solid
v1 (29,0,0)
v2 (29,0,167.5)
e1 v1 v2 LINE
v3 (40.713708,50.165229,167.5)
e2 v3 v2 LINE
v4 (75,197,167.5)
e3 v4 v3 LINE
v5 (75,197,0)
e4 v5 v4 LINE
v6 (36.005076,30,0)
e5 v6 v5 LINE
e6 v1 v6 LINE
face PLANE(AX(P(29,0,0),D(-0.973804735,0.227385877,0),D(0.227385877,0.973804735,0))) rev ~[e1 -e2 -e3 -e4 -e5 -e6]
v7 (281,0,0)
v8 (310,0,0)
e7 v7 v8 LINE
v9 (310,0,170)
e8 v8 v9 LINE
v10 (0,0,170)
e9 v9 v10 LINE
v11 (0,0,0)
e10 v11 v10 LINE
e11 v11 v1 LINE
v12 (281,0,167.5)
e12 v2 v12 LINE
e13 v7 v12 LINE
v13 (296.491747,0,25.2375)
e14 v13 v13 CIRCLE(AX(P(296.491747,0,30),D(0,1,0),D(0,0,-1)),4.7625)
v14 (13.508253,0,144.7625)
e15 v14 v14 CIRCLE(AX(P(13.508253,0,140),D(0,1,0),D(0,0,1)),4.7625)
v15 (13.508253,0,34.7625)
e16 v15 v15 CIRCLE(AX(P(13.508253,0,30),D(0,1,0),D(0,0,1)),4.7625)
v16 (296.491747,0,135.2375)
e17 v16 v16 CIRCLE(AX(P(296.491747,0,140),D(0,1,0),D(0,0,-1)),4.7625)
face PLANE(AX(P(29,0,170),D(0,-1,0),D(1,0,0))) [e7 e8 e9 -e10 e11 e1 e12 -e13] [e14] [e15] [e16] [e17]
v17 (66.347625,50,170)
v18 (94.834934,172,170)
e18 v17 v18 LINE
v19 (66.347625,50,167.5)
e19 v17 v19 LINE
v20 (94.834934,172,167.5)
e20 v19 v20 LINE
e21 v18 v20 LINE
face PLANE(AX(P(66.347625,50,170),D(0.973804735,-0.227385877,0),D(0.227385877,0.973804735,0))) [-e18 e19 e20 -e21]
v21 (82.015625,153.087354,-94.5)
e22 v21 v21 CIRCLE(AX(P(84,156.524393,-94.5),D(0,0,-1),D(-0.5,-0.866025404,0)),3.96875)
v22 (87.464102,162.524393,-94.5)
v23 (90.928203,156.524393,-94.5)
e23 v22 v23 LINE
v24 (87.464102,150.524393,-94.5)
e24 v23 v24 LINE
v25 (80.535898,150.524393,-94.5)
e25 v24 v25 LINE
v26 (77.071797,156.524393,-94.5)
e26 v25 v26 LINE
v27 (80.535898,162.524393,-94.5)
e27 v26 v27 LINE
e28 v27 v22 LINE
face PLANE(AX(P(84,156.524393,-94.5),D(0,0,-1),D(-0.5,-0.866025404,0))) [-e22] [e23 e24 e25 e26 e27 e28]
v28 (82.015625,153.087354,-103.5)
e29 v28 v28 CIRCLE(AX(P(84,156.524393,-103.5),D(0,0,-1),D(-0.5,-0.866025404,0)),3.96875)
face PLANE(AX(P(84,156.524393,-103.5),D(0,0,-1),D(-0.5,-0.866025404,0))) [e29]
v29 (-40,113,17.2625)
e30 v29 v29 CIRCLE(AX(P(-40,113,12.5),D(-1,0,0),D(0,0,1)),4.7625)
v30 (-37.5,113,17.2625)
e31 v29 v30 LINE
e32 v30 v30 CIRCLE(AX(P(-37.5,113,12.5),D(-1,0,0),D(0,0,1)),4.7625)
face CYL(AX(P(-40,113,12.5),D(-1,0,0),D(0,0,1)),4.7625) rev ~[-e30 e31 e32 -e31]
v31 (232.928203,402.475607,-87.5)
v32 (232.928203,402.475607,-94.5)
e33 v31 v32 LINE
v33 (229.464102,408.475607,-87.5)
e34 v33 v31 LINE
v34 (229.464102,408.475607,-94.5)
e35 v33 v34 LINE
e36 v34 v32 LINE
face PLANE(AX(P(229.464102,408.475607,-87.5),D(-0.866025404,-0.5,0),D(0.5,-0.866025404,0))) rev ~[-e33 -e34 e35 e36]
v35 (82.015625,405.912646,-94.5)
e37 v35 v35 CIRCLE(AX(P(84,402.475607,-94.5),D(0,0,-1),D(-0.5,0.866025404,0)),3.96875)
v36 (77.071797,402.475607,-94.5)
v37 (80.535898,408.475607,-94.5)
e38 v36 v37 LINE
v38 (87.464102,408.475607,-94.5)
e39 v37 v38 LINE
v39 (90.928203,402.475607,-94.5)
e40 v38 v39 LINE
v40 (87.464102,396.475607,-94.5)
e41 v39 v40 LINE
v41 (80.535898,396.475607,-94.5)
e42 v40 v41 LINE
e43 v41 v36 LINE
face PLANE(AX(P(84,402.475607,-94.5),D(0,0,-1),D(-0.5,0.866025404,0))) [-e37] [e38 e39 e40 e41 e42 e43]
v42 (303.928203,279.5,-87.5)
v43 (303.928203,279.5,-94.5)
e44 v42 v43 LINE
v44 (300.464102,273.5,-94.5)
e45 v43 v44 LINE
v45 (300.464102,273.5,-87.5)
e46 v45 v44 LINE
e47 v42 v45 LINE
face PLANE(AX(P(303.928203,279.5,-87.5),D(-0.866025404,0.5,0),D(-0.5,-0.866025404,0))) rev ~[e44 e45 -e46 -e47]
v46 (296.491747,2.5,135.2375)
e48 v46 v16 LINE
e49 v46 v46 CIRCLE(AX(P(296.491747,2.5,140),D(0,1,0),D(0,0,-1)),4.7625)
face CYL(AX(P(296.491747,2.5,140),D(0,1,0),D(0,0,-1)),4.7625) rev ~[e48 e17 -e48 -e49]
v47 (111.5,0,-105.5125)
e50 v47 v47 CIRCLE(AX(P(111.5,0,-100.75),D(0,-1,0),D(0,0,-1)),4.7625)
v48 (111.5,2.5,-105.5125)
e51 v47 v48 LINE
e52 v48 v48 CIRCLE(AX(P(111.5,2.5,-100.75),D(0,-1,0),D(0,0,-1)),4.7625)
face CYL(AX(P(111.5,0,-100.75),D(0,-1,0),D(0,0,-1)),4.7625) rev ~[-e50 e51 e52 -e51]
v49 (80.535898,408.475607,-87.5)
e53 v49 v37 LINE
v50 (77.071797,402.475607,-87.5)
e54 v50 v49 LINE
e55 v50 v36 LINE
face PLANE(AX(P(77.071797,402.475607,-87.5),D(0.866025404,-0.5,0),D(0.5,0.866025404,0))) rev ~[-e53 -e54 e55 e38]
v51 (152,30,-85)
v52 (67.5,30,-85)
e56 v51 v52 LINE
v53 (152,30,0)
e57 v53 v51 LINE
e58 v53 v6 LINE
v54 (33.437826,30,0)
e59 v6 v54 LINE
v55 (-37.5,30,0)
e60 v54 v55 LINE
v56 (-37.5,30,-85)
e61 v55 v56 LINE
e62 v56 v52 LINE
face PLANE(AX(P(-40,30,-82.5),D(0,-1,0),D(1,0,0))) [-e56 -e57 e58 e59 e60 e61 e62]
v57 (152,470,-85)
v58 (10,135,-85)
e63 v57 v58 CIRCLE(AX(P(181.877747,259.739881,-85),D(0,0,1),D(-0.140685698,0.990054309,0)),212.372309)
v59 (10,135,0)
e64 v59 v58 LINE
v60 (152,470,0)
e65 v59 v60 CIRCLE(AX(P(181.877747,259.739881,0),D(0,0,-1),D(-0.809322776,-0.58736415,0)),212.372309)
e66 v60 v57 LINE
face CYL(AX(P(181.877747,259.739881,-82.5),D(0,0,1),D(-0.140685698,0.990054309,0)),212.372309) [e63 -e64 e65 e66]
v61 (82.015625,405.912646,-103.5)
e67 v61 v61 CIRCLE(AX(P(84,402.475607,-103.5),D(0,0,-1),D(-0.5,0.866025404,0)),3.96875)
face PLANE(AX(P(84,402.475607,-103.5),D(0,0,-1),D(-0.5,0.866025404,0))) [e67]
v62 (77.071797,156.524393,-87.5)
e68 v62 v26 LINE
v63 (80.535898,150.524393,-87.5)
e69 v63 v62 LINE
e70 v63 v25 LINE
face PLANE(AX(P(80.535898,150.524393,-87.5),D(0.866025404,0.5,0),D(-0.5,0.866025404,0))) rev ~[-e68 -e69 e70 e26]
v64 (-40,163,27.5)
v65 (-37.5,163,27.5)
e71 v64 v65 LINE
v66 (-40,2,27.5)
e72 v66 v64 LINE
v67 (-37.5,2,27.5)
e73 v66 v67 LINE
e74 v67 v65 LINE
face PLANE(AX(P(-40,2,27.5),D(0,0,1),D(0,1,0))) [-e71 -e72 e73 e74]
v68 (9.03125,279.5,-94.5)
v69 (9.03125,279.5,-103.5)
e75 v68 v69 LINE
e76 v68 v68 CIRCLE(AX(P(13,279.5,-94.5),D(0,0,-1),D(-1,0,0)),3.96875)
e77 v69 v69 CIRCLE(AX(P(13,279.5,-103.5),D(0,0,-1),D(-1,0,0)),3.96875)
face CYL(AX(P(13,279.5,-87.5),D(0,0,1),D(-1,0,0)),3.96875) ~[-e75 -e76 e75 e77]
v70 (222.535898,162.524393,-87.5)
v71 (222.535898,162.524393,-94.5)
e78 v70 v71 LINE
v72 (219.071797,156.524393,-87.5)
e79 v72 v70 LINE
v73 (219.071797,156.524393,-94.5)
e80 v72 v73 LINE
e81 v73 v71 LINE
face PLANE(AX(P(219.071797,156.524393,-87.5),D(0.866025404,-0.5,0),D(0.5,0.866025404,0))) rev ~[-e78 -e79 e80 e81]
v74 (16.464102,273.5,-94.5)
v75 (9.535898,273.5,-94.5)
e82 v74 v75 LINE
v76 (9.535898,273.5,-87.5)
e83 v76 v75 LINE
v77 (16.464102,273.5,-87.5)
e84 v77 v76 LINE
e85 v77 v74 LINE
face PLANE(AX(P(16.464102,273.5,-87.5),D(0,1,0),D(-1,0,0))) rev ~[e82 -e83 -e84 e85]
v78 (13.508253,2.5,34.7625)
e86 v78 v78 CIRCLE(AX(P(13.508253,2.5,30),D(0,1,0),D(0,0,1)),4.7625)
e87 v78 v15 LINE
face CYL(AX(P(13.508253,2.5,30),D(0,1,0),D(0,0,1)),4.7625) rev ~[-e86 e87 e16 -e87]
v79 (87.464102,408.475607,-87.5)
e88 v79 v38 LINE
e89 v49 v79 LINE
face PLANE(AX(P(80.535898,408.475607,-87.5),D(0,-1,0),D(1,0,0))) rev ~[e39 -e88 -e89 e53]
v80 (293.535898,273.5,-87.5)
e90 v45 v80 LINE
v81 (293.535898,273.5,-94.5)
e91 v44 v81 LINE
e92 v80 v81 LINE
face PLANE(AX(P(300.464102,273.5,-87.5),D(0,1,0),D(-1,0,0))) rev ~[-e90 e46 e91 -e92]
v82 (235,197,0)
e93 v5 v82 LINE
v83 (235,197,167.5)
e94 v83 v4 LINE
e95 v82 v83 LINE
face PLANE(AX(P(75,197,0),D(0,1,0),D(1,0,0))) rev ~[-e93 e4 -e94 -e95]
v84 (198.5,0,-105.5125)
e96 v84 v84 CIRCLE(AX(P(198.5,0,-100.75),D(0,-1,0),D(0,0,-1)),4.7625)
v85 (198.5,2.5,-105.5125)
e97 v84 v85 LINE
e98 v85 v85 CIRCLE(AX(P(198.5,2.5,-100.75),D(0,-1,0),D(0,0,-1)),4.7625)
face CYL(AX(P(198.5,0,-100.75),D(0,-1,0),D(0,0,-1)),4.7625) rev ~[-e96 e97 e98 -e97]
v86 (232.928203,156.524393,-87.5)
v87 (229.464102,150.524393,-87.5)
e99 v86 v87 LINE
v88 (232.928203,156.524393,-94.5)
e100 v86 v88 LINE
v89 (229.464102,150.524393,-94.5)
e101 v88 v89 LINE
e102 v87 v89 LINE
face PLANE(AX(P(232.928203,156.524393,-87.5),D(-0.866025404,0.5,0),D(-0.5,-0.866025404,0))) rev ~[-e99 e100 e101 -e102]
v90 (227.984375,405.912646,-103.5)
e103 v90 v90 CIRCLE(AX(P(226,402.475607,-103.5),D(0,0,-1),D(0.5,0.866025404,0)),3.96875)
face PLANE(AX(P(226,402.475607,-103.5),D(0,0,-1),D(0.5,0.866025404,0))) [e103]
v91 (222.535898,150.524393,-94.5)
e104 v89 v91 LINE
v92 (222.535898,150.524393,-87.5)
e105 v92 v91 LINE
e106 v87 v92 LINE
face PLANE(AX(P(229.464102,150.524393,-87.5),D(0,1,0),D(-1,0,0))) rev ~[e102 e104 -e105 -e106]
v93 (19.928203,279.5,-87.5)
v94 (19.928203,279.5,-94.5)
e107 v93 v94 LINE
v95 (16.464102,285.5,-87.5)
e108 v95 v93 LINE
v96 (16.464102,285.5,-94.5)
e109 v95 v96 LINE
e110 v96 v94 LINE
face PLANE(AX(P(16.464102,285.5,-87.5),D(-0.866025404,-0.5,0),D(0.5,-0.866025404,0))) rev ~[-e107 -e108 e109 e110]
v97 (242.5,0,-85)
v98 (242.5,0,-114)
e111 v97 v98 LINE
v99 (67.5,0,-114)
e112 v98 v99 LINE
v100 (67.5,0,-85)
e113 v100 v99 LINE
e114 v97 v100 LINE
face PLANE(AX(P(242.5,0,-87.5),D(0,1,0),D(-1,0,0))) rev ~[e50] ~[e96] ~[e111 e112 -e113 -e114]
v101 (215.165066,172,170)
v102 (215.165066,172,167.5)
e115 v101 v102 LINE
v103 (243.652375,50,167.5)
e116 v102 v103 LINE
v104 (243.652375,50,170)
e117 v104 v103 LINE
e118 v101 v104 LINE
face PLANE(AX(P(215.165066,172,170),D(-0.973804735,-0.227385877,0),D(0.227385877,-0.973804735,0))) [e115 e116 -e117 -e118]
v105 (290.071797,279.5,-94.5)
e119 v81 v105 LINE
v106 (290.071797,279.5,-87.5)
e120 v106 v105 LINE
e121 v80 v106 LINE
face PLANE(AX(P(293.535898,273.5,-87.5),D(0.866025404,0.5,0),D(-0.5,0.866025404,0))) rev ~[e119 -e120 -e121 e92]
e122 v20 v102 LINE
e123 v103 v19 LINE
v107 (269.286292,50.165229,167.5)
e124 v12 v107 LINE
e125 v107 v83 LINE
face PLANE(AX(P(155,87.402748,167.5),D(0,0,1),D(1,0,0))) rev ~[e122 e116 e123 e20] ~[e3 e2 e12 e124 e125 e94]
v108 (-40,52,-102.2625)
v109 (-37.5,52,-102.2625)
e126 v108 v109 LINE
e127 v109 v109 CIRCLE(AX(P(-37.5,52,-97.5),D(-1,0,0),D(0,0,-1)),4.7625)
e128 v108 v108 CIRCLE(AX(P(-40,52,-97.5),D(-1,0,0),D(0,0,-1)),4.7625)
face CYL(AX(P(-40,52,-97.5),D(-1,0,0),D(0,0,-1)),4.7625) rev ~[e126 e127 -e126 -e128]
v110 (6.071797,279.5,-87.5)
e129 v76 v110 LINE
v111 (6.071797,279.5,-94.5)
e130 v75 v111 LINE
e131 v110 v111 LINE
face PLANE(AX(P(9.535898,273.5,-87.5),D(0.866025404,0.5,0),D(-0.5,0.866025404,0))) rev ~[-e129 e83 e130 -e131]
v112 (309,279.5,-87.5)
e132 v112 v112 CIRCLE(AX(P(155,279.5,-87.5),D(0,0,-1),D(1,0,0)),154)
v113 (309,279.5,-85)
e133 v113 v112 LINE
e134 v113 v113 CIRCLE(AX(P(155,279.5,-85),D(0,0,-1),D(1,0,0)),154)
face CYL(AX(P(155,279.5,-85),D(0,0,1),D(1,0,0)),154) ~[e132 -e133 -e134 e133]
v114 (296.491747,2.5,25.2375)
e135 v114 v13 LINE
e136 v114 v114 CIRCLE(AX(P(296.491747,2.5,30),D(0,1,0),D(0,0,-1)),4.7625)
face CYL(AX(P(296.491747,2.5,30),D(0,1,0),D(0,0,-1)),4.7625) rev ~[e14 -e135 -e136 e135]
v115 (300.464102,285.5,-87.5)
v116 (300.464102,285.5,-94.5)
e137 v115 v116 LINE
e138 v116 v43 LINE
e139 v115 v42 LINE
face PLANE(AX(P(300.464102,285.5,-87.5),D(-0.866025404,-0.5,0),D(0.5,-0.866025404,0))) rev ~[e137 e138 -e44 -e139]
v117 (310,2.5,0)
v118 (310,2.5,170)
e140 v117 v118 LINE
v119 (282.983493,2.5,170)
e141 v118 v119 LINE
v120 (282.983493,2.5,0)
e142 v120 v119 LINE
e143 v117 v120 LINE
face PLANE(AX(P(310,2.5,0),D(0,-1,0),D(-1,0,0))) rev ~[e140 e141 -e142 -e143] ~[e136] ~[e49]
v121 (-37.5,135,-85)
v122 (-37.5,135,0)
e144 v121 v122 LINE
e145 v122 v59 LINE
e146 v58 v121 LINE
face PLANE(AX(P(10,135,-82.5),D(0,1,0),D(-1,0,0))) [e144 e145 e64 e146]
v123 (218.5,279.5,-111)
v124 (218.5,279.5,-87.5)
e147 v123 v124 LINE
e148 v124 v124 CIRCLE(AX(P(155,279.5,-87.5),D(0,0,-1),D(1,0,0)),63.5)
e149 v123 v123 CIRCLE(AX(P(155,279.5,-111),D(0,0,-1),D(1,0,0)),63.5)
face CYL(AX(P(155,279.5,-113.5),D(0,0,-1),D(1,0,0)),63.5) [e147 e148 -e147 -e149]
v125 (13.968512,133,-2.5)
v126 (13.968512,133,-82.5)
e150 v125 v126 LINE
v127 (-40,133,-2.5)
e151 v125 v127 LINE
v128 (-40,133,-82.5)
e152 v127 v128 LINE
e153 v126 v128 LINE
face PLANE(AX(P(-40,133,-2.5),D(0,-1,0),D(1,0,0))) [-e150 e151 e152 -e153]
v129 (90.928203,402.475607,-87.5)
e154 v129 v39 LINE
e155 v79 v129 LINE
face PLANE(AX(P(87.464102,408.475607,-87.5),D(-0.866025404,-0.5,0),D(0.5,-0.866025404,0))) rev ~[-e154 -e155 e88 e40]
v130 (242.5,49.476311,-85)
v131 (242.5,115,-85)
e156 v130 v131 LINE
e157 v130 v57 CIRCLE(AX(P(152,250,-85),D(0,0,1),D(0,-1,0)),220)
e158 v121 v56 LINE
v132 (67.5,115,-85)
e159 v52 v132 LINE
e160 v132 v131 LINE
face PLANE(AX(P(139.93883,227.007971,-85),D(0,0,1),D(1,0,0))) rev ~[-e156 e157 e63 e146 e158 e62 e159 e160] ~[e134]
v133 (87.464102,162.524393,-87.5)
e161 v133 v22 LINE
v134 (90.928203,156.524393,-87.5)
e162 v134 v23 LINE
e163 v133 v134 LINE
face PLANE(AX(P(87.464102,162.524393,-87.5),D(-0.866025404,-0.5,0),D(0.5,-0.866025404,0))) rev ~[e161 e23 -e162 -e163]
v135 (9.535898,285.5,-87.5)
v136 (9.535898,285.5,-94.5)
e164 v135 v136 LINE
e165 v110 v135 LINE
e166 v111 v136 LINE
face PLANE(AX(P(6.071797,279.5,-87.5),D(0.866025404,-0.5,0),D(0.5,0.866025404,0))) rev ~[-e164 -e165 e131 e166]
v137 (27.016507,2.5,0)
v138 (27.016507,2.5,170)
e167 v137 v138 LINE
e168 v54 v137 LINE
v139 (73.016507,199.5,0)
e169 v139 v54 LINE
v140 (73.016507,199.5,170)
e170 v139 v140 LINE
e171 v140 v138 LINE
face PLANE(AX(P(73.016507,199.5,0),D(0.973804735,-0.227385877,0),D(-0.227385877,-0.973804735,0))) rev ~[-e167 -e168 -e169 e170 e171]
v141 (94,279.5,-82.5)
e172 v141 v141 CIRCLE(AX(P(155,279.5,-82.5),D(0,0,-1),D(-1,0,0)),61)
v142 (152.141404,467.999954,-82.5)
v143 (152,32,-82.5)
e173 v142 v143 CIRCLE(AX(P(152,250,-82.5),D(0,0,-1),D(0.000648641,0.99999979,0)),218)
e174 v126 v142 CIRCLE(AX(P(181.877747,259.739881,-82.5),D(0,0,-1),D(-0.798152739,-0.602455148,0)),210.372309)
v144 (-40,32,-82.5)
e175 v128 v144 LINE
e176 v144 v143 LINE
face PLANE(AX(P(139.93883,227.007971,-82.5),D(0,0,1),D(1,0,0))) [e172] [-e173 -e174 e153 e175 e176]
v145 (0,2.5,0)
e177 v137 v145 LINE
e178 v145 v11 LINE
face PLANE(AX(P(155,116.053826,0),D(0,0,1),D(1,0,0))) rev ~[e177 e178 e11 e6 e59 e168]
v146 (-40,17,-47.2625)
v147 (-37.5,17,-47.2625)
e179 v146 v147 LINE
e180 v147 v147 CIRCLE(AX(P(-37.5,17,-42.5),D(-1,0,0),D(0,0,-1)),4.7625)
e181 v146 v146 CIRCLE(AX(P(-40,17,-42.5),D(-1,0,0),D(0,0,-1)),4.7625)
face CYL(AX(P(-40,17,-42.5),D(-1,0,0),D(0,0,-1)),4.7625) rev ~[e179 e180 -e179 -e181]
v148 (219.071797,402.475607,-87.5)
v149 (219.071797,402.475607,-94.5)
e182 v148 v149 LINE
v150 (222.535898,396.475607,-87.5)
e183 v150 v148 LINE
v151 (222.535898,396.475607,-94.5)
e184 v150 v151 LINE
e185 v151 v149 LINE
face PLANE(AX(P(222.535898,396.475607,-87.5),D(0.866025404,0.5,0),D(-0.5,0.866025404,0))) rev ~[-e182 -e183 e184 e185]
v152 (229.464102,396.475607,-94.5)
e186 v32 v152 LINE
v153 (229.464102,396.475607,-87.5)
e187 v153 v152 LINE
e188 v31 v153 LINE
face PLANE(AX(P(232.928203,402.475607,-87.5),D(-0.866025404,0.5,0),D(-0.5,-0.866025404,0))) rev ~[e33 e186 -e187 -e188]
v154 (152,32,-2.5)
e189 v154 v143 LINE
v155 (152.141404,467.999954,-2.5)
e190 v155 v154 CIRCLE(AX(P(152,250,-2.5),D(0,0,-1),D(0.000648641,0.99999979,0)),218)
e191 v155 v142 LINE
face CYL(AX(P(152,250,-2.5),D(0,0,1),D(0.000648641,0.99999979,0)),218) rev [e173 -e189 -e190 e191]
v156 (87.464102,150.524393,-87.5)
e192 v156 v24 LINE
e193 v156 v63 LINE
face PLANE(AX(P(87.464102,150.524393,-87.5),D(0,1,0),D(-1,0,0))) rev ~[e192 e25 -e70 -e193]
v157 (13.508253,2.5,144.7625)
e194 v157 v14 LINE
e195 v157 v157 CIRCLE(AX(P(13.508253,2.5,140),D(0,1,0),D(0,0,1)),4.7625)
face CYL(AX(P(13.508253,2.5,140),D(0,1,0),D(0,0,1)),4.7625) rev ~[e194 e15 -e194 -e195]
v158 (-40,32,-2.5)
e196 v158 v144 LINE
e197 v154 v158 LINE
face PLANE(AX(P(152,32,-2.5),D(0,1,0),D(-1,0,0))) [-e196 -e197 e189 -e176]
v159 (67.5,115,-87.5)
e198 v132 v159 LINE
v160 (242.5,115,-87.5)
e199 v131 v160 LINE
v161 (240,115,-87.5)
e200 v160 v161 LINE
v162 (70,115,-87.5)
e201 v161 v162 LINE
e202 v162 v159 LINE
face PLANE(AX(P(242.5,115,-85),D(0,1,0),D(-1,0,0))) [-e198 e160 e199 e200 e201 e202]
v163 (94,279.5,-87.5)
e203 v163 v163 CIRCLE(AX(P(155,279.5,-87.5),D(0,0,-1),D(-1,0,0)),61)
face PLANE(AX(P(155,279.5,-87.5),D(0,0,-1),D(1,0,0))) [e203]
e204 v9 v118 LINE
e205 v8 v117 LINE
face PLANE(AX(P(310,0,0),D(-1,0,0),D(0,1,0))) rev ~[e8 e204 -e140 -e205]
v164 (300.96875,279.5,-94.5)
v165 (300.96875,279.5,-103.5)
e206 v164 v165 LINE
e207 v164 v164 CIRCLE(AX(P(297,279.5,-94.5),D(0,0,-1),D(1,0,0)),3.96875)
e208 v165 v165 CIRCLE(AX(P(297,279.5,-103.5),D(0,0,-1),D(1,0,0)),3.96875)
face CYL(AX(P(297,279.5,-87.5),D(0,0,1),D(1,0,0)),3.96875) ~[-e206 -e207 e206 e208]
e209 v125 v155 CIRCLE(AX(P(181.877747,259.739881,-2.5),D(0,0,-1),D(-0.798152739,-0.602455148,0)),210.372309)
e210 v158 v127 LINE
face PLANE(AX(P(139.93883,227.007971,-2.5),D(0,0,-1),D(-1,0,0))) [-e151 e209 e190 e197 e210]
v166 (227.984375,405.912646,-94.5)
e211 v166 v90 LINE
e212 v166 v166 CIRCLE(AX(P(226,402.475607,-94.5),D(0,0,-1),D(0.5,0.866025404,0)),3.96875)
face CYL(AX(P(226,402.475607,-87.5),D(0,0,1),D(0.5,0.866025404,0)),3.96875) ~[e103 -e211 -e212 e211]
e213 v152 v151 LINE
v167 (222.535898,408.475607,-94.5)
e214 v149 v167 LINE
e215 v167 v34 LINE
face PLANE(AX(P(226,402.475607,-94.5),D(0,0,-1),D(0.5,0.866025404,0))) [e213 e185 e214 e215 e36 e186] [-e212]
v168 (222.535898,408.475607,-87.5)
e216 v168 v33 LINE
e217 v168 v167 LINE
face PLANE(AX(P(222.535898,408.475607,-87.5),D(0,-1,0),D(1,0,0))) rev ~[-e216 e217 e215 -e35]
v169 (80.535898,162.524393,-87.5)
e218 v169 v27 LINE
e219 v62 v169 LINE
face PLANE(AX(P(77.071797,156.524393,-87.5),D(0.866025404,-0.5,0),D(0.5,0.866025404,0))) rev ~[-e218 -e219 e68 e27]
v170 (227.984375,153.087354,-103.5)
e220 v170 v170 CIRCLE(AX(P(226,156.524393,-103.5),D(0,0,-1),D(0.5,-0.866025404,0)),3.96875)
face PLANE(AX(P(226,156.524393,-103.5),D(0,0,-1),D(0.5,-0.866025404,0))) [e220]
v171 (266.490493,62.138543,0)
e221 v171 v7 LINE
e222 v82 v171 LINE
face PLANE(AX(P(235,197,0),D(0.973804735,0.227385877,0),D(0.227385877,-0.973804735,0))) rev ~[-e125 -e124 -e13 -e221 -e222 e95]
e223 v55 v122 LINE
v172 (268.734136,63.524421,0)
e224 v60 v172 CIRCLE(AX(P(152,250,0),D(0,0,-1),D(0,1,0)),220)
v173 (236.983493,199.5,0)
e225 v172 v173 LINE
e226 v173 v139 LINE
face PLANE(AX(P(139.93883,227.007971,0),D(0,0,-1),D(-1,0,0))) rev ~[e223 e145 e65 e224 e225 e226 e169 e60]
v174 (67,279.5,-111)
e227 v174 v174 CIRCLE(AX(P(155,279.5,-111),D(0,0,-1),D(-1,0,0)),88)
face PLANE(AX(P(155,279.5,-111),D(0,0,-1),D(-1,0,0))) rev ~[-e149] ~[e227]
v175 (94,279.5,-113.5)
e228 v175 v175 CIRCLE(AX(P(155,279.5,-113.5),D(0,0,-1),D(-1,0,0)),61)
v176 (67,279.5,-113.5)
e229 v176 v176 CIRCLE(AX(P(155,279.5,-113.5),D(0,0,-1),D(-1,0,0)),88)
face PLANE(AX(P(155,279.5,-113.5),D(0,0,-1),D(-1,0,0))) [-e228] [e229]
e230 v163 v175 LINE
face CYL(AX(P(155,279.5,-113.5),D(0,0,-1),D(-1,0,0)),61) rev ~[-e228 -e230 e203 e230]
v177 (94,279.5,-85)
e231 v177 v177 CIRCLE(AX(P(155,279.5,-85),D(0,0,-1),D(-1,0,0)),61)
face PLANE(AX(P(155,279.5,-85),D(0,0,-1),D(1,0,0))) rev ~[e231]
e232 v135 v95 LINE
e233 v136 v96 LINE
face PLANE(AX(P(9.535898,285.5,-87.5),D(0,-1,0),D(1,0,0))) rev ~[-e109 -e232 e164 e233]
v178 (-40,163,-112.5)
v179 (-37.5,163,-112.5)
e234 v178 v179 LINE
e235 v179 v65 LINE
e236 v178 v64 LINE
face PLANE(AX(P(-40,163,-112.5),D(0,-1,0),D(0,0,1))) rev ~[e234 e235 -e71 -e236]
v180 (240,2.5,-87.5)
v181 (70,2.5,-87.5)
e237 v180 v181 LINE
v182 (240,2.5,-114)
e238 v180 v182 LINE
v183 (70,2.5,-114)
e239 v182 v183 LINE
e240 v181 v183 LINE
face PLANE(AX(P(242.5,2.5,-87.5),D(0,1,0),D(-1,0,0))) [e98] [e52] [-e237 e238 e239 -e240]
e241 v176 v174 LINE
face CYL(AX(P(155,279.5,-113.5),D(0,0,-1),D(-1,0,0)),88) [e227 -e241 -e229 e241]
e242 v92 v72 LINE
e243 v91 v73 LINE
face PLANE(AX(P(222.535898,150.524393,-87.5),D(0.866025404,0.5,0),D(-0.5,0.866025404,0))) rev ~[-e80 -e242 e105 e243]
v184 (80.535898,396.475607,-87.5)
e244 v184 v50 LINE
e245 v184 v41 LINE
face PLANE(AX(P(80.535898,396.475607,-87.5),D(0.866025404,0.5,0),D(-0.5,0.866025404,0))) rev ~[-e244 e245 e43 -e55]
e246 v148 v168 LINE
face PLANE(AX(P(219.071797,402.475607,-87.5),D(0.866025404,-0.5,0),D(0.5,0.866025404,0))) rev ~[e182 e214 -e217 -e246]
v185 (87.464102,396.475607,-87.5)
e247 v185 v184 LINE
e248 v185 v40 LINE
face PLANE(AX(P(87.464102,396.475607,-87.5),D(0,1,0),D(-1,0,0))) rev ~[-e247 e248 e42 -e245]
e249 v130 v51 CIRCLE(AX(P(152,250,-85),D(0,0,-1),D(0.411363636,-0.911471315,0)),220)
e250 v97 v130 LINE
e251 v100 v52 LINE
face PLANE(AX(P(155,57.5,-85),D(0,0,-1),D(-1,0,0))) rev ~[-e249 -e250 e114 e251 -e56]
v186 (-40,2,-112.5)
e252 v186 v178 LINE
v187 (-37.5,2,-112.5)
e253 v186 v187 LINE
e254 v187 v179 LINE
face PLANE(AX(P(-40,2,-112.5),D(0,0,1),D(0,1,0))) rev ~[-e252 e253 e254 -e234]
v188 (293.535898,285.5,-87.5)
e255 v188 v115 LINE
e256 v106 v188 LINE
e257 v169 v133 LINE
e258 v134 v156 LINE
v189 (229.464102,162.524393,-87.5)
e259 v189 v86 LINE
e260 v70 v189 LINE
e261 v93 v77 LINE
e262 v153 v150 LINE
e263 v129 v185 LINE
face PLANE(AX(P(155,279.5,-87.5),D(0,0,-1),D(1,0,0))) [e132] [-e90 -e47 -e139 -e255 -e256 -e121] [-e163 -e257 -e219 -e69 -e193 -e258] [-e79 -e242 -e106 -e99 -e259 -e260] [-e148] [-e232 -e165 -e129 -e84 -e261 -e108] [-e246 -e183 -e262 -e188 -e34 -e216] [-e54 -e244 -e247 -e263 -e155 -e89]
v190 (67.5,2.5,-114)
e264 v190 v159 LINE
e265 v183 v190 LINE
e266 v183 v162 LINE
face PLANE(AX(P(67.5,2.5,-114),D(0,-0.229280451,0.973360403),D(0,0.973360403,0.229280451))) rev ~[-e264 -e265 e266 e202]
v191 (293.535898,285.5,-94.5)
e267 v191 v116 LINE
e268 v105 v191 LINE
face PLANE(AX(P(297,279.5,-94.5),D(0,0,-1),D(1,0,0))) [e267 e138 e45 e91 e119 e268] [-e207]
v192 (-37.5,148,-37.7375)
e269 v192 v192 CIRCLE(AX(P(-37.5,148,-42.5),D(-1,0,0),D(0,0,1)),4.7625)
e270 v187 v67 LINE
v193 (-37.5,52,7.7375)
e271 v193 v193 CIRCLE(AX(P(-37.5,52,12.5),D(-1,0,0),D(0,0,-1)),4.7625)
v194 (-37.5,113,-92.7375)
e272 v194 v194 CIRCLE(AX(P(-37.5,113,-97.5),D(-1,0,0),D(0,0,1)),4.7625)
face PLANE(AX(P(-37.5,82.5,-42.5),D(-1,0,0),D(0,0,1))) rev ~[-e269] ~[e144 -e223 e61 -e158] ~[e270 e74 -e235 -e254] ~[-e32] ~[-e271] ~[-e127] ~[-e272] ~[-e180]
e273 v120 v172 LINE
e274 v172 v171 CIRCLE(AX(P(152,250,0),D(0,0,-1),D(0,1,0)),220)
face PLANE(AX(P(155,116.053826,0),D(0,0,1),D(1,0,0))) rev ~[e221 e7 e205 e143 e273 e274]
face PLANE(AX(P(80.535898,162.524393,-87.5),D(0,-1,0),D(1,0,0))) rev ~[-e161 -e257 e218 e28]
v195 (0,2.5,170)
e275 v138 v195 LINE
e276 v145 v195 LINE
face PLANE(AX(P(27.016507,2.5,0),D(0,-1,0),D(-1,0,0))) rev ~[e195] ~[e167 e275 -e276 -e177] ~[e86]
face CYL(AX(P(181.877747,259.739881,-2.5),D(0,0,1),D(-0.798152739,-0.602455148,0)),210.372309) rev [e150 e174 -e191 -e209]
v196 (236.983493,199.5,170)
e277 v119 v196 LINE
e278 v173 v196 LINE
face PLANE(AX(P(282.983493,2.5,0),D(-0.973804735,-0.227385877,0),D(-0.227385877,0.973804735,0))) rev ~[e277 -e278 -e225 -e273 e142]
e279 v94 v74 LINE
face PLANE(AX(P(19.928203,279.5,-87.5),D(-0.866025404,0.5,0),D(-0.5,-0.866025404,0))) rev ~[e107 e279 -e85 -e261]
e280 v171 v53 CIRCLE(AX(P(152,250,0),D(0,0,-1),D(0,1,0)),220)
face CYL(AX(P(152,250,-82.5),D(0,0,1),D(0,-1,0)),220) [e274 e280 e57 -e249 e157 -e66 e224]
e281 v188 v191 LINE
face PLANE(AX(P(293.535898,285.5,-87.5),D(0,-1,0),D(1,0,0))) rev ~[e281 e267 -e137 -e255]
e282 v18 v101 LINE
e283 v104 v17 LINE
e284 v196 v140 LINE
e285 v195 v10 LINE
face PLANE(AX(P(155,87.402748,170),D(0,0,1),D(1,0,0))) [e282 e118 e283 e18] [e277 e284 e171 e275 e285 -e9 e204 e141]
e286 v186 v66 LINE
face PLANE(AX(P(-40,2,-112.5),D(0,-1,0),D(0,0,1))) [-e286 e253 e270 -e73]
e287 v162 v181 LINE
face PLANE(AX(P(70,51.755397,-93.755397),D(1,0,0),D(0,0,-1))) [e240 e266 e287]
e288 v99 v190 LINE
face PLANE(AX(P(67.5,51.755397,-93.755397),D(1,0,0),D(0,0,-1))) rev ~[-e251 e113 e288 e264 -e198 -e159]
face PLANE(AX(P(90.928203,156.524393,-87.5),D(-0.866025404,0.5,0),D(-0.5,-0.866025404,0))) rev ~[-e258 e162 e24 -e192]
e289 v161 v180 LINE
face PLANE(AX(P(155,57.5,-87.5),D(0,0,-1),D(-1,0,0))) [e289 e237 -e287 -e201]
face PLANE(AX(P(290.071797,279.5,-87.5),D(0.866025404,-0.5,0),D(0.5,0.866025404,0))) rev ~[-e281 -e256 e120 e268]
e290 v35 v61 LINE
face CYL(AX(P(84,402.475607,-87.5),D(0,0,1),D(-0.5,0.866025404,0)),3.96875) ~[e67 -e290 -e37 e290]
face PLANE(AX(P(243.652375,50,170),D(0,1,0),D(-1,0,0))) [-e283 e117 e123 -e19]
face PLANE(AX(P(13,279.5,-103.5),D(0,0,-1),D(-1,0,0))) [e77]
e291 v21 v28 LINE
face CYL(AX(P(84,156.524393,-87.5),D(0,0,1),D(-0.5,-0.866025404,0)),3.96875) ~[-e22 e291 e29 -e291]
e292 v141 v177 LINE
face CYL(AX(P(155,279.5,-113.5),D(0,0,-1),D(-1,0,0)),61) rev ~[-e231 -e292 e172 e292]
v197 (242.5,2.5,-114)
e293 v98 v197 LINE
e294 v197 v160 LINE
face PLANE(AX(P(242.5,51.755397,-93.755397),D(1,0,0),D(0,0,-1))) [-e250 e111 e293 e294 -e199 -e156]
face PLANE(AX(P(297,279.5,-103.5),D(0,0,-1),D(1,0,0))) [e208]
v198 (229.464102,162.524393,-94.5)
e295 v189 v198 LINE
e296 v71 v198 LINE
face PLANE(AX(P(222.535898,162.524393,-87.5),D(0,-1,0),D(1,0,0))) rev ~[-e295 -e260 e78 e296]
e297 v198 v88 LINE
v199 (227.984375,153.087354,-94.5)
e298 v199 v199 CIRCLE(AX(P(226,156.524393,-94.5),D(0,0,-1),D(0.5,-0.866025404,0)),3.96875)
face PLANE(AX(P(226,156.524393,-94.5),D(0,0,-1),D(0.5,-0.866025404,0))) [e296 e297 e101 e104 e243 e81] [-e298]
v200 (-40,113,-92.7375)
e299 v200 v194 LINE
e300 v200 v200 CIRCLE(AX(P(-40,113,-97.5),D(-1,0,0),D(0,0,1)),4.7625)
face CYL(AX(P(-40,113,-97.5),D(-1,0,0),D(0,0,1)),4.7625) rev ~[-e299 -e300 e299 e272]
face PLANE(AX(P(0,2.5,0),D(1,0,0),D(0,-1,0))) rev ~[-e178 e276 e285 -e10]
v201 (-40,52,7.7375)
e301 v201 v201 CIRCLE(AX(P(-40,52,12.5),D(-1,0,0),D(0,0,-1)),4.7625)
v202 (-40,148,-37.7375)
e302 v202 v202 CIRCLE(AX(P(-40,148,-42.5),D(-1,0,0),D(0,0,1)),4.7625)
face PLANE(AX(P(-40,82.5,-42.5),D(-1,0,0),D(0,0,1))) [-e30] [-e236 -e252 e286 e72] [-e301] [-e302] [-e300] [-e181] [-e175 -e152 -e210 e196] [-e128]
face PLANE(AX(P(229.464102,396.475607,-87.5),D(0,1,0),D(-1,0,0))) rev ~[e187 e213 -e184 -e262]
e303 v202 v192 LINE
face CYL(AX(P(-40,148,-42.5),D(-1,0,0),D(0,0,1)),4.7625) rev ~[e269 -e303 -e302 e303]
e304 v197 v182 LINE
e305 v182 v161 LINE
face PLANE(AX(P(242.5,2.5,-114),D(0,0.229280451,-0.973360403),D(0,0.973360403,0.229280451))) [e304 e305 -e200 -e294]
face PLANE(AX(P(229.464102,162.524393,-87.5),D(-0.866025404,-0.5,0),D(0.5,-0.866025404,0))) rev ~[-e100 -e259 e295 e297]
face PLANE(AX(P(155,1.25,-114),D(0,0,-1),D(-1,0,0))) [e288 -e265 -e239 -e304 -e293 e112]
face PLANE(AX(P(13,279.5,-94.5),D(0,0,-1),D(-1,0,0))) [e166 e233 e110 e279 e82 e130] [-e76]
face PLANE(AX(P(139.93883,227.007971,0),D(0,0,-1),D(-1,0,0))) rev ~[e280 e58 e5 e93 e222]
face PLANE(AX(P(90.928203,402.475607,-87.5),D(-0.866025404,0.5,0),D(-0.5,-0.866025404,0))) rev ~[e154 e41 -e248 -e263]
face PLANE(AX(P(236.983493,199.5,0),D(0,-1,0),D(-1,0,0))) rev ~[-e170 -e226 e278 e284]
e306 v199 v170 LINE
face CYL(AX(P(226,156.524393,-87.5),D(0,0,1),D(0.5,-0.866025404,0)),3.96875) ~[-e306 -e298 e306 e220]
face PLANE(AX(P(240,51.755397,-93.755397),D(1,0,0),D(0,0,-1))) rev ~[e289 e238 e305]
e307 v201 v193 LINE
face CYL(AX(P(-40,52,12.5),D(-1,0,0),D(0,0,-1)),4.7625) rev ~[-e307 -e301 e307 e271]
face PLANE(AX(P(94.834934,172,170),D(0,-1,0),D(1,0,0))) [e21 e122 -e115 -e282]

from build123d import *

# Parameters (mm, degrees)
SALIENTE_EXTRUIR1_DEPTH  = 170
SALIENTE_EXTRUIR2_DEPTH  = 2.5
CROQUIS4_R               = 4.7625
CORTAR_EXTRUIR1_DEPTH    = 2.5
SALIENTE_EXTRUIR3_DEPTH  = 2.5
SALIENTE_EXTRUIR4_DEPTH  = 80
SALIENTE_EXTRUIR5_DEPTH  = 2.5
CROQUIS8_W               = 140
CROQUIS8_H               = 161
CROQUIS8_W_2             = 80
CROQUIS8_H_2             = 101
SALIENTE_EXTRUIR6_DEPTH  = 2.5
CROQUIS9_R               = 4.7625
CORTAR_EXTRUIR2_DEPTH    = 2.5
CROQUIS10_R              = 61
CORTAR_EXTRUIR3_DEPTH    = 2.5
SALIENTE_EXTRUIR7_START  = 28.5
CROQUIS11_R              = 63.5
CROQUIS11_R_2            = 61
SALIENTE_EXTRUIR7_DEPTH  = 28.5
CROQUIS12_R              = 88
CROQUIS12_R_2            = 61
SALIENTE_EXTRUIR8_DEPTH  = 2.5
CROQUIS13_W              = 175
CROQUIS13_H              = 115
SALIENTE_EXTRUIR9_DEPTH  = 2.5
CROQUIS14_W              = 175
CROQUIS14_H              = 2.5
SALIENTE_EXTRUIR10_DEPTH = 26.5
SALIENTE_EXTRUIR11_DEPTH = 2.5
SALIENTE_EXTRUIR12_DEPTH = 2.5
CROQUIS17_R              = 4.7625
CORTAR_EXTRUIR4_DEPTH    = 2.5
CROQUIS18_R              = 154
SALIENTE_EXTRUIR13_DEPTH = 2.5
CROQUIS19_R              = 3.96875
SALIENTE_EXTRUIR14_DEPTH = 16
MATRIZC1_COUNT           = 6
CROQUIS20_R              = 3.96875
SALIENTE_EXTRUIR15_DEPTH = 7
MATRIZC3_COUNT           = 6


with BuildPart() as part:
    # Croquis1 → Saliente-Extruir1 (new body)
    with BuildSketch(Plane.XY):
        Polygon((0, 0), (29, 0), (75, 197), (235, 197), (281, 0), (310, 0), (310, 2.5), (282.983493442, 2.5), (236.983493442, 199.5), (73.016506558, 199.5), (27.016506558, 2.5), (0, 2.5), align=None)
    extrude(amount=SALIENTE_EXTRUIR1_DEPTH)

    # Croquis2 → Saliente-Extruir2 (add)
    with BuildSketch(Plane.XY.offset(170)):
        Polygon((29, 0), (281, 0), (269.286291687, 50.165229078), (235, 197), (75, 197), (40.713708313, 50.165229078), align=None)
        Polygon((243.652375223, 50), (66.347624777, 50), (94.834934422, 172), (215.165065578, 172), align=None, mode=Mode.SUBTRACT)
    extrude(amount=-SALIENTE_EXTRUIR2_DEPTH)

    # Croquis4 → Cortar-Extruir1 (cut)
    with BuildSketch(Plane(origin=(0, 2.5, 0), x_dir=(1, 0, 0), z_dir=(0, 1, 0))):
        with Locations(Location((13.508253279, -30, 0), (0, 0, 270))):
            Circle(CROQUIS4_R)
        with Locations(Location((13.508253279, -140, 0), (0, 0, 270))):
            Circle(CROQUIS4_R)
        with Locations(Location((296.491746721, -140, 0), (0, 0, 90))):
            Circle(CROQUIS4_R)
        with Locations(Location((296.491746721, -30, 0), (0, 0, 90))):
            Circle(CROQUIS4_R)
    extrude(amount=-CORTAR_EXTRUIR1_DEPTH, mode=Mode.SUBTRACT)

    # Croquis5 → Saliente-Extruir3 (add)
    with BuildSketch(Plane(origin=(0, 0, 0), x_dir=(-1, 0, 0), z_dir=(0, 0, -1))):
        with BuildLine():
            Line((0, 30), (40, 30))
            Line((40, 30), (40, 135))
            Line((40, 135), (-10, 135))
            ThreePointArc((-10, 135), (13.653759217, 342.621891967), (-152, 470))
            ThreePointArc((-152, 470), (-372, 250), (-152, 30))
            Line((-152, 30), (0, 30))
        make_face()
    extrude(amount=SALIENTE_EXTRUIR3_DEPTH)

    # Croquis6 → Saliente-Extruir4 (add)
    with BuildSketch(Plane(origin=(0, 0, -2.5), x_dir=(-1, 0, 0), z_dir=(0, 0, -1))):
        with BuildLine():
            Line((-10, 135), (40, 135))
            Line((40, 135), (40, 133))
            Line((40, 133), (38, 133))
            Line((38, 133), (-13.968512136, 133))
            ThreePointArc((-13.968512136, 133), (12.60152192, 339.954109112), (-152.141403753, 467.99995414))
            ThreePointArc((-152.141403753, 467.99995414), (-369.999988535, 249.92929812), (-152, 32))
            Line((-152, 32), (38, 32))
            Line((38, 32), (40, 32))
            Line((40, 32), (40, 30))
            Line((40, 30), (-152, 30))
            ThreePointArc((-152, 30), (-372, 250), (-152, 470))
            ThreePointArc((-152, 470), (13.653759217, 342.621891967), (-10, 135))
        make_face()
    extrude(amount=SALIENTE_EXTRUIR4_DEPTH)

    # Croquis7 → Saliente-Extruir5 (add)
    with BuildSketch(Plane(origin=(0, 0, -82.5), x_dir=(-1, 0, 0), z_dir=(0, 0, -1))):
        with BuildLine():
            Line((-10, 135), (40, 135))
            Line((40, 135), (40, 30))
            Line((40, 30), (-152, 30))
            ThreePointArc((-152, 30), (-372, 250), (-152, 470))
            ThreePointArc((-152, 470), (13.653759217, 342.621891967), (-10, 135))
        make_face()
    extrude(amount=SALIENTE_EXTRUIR5_DEPTH)

    # Croquis8 → Saliente-Extruir6 (add)
    with BuildSketch(Plane.ZY.offset(40)):
        with Locations((-42.5, 82.5)):
            Rectangle(CROQUIS8_W, CROQUIS8_H)
        with Locations((-42.5, 82.5)):
            Rectangle(CROQUIS8_W_2, CROQUIS8_H_2, mode=Mode.SUBTRACT)
    extrude(amount=-SALIENTE_EXTRUIR6_DEPTH)

    # Croquis9 → Cortar-Extruir2 (cut)
    with BuildSketch(Plane.ZY.offset(40)):
        with Locations((-42.5, 148)):
            Circle(CROQUIS9_R)
        with Locations((-97.5, 113)):
            Circle(CROQUIS9_R)
        with Locations((12.5, 113)):
            Circle(CROQUIS9_R)
        with Locations(Location((12.5, 52, 0), (0, 0, 180))):
            Circle(CROQUIS9_R)
        with Locations(Location((-97.5, 52, 0), (0, 0, 180))):
            Circle(CROQUIS9_R)
        with Locations(Location((-42.5, 17, 0), (0, 0, 180))):
            Circle(CROQUIS9_R)
    extrude(amount=-CORTAR_EXTRUIR2_DEPTH, mode=Mode.SUBTRACT)

    # Croquis10 → Cortar-Extruir3 (cut)
    with BuildSketch(Plane(origin=(0, 0, -85), x_dir=(-1, 0, 0), z_dir=(0, 0, -1))):
        with Locations((-155, 279.5)):
            Circle(CROQUIS10_R)
    extrude(amount=-CORTAR_EXTRUIR3_DEPTH, mode=Mode.SUBTRACT)

    # Croquis11 → Saliente-Extruir7 (add)
    with BuildSketch(Plane(origin=(0, 0, -85), x_dir=(-1, 0, 0), z_dir=(0, 0, -1)).offset(SALIENTE_EXTRUIR7_START)):
        with Locations(Location((-155, 279.5, 0), (0, 0, 180))):
            Circle(CROQUIS11_R)
        with Locations((-155, 279.5)):
            Circle(CROQUIS11_R_2, mode=Mode.SUBTRACT)
    extrude(amount=-SALIENTE_EXTRUIR7_DEPTH)

    # Croquis12 → Saliente-Extruir8 (add)
    with BuildSketch(Plane(origin=(0, 0, -113.5), x_dir=(-1, 0, 0), z_dir=(0, 0, -1))):
        with Locations((-155, 279.5)):
            Circle(CROQUIS12_R)
        with Locations((-155, 279.5)):
            Circle(CROQUIS12_R_2, mode=Mode.SUBTRACT)
    extrude(amount=-SALIENTE_EXTRUIR8_DEPTH)

    # Croquis13 → Saliente-Extruir9 (add)
    with BuildSketch(Plane(origin=(0, 0, -85), x_dir=(-1, 0, 0), z_dir=(0, 0, -1))):
        with Locations((-155, 57.5)):
            Rectangle(CROQUIS13_W, CROQUIS13_H)
    extrude(amount=SALIENTE_EXTRUIR9_DEPTH)

    # Croquis14 → Saliente-Extruir10 (add)
    with BuildSketch(Plane(origin=(0, 0, -87.5), x_dir=(-1, 0, 0), z_dir=(0, 0, -1))):
        with Locations((-155, 1.25)):
            Rectangle(CROQUIS14_W, CROQUIS14_H)
    extrude(amount=SALIENTE_EXTRUIR10_DEPTH)

    # Croquis15 → Saliente-Extruir11 (add)
    with BuildSketch(Plane.ZY.offset(-67.5)):
        Polygon((-114, 2.5), (-87.5, 115), (-85, 115), (-85, 0), (-114, 0), align=None)
    extrude(amount=-SALIENTE_EXTRUIR11_DEPTH)

    # Croquis16 → Saliente-Extruir12 (add)
    with BuildSketch(Plane(origin=(242.5, 0, 0), x_dir=(0, 0, -1), z_dir=(1, 0, 0))):
        Polygon((114, 2.5), (87.5, 115), (85, 115), (85, 0), (114, 0), align=None)
    extrude(amount=-SALIENTE_EXTRUIR12_DEPTH)

    # Croquis17 → Cortar-Extruir4 (cut)
    with BuildSketch(Plane.XZ):
        with Locations(Location((198.5, -100.75, 0), (0, 0, 270))):
            Circle(CROQUIS17_R)
        with Locations(Location((111.5, -100.75, 0), (0, 0, 270))):
            Circle(CROQUIS17_R)
    extrude(amount=-CORTAR_EXTRUIR4_DEPTH, mode=Mode.SUBTRACT)

    # Croquis18 → Saliente-Extruir13 (add)
    with BuildSketch(Plane(origin=(0, 0, -85), x_dir=(-1, 0, 0), z_dir=(0, 0, -1))):
        with Locations(Location((-155, 279.5, 0), (0, 0, 180))):
            Circle(CROQUIS18_R)
    extrude(amount=SALIENTE_EXTRUIR13_DEPTH)

    # Croquis19 → Saliente-Extruir14 (add)
    with BuildSketch(Plane(origin=(0, 0, -87.5), x_dir=(-1, 0, 0), z_dir=(0, 0, -1))):
        with Locations((-13, 279.5)):
            Circle(CROQUIS19_R)
    saliente_extruir14 = extrude(amount=SALIENTE_EXTRUIR14_DEPTH)

    # MatrizC1: Saliente-Extruir14 ×6 about axis
    matrizc1_axis = Axis((155, 279.5, 0), (0, 0, 1))
    for i in range(1, MATRIZC1_COUNT):
        add(saliente_extruir14.rotate(matrizc1_axis, i * 360 / MATRIZC1_COUNT))

    # Croquis20 → Saliente-Extruir15 (add)
    with BuildSketch(Plane(origin=(0, 0, -87.5), x_dir=(-1, 0, 0), z_dir=(0, 0, -1))):
        Polygon((-6.07179677, 279.5), (-9.535898385, 285.5), (-16.464101615, 285.5), (-19.92820323, 279.5), (-16.464101615, 273.5), (-9.535898385, 273.5), align=None)
        with Locations((-13, 279.5)):
            Circle(CROQUIS20_R, mode=Mode.SUBTRACT)
    saliente_extruir15 = extrude(amount=SALIENTE_EXTRUIR15_DEPTH)

    # MatrizC3: Saliente-Extruir15 ×6 about axis
    matrizc3_axis = Axis((155, 279.5, 0), (0, 0, 1))
    for i in range(1, MATRIZC3_COUNT):
        add(saliente_extruir15.rotate(matrizc3_axis, i * 360 / MATRIZC3_COUNT))


solid = part.part
